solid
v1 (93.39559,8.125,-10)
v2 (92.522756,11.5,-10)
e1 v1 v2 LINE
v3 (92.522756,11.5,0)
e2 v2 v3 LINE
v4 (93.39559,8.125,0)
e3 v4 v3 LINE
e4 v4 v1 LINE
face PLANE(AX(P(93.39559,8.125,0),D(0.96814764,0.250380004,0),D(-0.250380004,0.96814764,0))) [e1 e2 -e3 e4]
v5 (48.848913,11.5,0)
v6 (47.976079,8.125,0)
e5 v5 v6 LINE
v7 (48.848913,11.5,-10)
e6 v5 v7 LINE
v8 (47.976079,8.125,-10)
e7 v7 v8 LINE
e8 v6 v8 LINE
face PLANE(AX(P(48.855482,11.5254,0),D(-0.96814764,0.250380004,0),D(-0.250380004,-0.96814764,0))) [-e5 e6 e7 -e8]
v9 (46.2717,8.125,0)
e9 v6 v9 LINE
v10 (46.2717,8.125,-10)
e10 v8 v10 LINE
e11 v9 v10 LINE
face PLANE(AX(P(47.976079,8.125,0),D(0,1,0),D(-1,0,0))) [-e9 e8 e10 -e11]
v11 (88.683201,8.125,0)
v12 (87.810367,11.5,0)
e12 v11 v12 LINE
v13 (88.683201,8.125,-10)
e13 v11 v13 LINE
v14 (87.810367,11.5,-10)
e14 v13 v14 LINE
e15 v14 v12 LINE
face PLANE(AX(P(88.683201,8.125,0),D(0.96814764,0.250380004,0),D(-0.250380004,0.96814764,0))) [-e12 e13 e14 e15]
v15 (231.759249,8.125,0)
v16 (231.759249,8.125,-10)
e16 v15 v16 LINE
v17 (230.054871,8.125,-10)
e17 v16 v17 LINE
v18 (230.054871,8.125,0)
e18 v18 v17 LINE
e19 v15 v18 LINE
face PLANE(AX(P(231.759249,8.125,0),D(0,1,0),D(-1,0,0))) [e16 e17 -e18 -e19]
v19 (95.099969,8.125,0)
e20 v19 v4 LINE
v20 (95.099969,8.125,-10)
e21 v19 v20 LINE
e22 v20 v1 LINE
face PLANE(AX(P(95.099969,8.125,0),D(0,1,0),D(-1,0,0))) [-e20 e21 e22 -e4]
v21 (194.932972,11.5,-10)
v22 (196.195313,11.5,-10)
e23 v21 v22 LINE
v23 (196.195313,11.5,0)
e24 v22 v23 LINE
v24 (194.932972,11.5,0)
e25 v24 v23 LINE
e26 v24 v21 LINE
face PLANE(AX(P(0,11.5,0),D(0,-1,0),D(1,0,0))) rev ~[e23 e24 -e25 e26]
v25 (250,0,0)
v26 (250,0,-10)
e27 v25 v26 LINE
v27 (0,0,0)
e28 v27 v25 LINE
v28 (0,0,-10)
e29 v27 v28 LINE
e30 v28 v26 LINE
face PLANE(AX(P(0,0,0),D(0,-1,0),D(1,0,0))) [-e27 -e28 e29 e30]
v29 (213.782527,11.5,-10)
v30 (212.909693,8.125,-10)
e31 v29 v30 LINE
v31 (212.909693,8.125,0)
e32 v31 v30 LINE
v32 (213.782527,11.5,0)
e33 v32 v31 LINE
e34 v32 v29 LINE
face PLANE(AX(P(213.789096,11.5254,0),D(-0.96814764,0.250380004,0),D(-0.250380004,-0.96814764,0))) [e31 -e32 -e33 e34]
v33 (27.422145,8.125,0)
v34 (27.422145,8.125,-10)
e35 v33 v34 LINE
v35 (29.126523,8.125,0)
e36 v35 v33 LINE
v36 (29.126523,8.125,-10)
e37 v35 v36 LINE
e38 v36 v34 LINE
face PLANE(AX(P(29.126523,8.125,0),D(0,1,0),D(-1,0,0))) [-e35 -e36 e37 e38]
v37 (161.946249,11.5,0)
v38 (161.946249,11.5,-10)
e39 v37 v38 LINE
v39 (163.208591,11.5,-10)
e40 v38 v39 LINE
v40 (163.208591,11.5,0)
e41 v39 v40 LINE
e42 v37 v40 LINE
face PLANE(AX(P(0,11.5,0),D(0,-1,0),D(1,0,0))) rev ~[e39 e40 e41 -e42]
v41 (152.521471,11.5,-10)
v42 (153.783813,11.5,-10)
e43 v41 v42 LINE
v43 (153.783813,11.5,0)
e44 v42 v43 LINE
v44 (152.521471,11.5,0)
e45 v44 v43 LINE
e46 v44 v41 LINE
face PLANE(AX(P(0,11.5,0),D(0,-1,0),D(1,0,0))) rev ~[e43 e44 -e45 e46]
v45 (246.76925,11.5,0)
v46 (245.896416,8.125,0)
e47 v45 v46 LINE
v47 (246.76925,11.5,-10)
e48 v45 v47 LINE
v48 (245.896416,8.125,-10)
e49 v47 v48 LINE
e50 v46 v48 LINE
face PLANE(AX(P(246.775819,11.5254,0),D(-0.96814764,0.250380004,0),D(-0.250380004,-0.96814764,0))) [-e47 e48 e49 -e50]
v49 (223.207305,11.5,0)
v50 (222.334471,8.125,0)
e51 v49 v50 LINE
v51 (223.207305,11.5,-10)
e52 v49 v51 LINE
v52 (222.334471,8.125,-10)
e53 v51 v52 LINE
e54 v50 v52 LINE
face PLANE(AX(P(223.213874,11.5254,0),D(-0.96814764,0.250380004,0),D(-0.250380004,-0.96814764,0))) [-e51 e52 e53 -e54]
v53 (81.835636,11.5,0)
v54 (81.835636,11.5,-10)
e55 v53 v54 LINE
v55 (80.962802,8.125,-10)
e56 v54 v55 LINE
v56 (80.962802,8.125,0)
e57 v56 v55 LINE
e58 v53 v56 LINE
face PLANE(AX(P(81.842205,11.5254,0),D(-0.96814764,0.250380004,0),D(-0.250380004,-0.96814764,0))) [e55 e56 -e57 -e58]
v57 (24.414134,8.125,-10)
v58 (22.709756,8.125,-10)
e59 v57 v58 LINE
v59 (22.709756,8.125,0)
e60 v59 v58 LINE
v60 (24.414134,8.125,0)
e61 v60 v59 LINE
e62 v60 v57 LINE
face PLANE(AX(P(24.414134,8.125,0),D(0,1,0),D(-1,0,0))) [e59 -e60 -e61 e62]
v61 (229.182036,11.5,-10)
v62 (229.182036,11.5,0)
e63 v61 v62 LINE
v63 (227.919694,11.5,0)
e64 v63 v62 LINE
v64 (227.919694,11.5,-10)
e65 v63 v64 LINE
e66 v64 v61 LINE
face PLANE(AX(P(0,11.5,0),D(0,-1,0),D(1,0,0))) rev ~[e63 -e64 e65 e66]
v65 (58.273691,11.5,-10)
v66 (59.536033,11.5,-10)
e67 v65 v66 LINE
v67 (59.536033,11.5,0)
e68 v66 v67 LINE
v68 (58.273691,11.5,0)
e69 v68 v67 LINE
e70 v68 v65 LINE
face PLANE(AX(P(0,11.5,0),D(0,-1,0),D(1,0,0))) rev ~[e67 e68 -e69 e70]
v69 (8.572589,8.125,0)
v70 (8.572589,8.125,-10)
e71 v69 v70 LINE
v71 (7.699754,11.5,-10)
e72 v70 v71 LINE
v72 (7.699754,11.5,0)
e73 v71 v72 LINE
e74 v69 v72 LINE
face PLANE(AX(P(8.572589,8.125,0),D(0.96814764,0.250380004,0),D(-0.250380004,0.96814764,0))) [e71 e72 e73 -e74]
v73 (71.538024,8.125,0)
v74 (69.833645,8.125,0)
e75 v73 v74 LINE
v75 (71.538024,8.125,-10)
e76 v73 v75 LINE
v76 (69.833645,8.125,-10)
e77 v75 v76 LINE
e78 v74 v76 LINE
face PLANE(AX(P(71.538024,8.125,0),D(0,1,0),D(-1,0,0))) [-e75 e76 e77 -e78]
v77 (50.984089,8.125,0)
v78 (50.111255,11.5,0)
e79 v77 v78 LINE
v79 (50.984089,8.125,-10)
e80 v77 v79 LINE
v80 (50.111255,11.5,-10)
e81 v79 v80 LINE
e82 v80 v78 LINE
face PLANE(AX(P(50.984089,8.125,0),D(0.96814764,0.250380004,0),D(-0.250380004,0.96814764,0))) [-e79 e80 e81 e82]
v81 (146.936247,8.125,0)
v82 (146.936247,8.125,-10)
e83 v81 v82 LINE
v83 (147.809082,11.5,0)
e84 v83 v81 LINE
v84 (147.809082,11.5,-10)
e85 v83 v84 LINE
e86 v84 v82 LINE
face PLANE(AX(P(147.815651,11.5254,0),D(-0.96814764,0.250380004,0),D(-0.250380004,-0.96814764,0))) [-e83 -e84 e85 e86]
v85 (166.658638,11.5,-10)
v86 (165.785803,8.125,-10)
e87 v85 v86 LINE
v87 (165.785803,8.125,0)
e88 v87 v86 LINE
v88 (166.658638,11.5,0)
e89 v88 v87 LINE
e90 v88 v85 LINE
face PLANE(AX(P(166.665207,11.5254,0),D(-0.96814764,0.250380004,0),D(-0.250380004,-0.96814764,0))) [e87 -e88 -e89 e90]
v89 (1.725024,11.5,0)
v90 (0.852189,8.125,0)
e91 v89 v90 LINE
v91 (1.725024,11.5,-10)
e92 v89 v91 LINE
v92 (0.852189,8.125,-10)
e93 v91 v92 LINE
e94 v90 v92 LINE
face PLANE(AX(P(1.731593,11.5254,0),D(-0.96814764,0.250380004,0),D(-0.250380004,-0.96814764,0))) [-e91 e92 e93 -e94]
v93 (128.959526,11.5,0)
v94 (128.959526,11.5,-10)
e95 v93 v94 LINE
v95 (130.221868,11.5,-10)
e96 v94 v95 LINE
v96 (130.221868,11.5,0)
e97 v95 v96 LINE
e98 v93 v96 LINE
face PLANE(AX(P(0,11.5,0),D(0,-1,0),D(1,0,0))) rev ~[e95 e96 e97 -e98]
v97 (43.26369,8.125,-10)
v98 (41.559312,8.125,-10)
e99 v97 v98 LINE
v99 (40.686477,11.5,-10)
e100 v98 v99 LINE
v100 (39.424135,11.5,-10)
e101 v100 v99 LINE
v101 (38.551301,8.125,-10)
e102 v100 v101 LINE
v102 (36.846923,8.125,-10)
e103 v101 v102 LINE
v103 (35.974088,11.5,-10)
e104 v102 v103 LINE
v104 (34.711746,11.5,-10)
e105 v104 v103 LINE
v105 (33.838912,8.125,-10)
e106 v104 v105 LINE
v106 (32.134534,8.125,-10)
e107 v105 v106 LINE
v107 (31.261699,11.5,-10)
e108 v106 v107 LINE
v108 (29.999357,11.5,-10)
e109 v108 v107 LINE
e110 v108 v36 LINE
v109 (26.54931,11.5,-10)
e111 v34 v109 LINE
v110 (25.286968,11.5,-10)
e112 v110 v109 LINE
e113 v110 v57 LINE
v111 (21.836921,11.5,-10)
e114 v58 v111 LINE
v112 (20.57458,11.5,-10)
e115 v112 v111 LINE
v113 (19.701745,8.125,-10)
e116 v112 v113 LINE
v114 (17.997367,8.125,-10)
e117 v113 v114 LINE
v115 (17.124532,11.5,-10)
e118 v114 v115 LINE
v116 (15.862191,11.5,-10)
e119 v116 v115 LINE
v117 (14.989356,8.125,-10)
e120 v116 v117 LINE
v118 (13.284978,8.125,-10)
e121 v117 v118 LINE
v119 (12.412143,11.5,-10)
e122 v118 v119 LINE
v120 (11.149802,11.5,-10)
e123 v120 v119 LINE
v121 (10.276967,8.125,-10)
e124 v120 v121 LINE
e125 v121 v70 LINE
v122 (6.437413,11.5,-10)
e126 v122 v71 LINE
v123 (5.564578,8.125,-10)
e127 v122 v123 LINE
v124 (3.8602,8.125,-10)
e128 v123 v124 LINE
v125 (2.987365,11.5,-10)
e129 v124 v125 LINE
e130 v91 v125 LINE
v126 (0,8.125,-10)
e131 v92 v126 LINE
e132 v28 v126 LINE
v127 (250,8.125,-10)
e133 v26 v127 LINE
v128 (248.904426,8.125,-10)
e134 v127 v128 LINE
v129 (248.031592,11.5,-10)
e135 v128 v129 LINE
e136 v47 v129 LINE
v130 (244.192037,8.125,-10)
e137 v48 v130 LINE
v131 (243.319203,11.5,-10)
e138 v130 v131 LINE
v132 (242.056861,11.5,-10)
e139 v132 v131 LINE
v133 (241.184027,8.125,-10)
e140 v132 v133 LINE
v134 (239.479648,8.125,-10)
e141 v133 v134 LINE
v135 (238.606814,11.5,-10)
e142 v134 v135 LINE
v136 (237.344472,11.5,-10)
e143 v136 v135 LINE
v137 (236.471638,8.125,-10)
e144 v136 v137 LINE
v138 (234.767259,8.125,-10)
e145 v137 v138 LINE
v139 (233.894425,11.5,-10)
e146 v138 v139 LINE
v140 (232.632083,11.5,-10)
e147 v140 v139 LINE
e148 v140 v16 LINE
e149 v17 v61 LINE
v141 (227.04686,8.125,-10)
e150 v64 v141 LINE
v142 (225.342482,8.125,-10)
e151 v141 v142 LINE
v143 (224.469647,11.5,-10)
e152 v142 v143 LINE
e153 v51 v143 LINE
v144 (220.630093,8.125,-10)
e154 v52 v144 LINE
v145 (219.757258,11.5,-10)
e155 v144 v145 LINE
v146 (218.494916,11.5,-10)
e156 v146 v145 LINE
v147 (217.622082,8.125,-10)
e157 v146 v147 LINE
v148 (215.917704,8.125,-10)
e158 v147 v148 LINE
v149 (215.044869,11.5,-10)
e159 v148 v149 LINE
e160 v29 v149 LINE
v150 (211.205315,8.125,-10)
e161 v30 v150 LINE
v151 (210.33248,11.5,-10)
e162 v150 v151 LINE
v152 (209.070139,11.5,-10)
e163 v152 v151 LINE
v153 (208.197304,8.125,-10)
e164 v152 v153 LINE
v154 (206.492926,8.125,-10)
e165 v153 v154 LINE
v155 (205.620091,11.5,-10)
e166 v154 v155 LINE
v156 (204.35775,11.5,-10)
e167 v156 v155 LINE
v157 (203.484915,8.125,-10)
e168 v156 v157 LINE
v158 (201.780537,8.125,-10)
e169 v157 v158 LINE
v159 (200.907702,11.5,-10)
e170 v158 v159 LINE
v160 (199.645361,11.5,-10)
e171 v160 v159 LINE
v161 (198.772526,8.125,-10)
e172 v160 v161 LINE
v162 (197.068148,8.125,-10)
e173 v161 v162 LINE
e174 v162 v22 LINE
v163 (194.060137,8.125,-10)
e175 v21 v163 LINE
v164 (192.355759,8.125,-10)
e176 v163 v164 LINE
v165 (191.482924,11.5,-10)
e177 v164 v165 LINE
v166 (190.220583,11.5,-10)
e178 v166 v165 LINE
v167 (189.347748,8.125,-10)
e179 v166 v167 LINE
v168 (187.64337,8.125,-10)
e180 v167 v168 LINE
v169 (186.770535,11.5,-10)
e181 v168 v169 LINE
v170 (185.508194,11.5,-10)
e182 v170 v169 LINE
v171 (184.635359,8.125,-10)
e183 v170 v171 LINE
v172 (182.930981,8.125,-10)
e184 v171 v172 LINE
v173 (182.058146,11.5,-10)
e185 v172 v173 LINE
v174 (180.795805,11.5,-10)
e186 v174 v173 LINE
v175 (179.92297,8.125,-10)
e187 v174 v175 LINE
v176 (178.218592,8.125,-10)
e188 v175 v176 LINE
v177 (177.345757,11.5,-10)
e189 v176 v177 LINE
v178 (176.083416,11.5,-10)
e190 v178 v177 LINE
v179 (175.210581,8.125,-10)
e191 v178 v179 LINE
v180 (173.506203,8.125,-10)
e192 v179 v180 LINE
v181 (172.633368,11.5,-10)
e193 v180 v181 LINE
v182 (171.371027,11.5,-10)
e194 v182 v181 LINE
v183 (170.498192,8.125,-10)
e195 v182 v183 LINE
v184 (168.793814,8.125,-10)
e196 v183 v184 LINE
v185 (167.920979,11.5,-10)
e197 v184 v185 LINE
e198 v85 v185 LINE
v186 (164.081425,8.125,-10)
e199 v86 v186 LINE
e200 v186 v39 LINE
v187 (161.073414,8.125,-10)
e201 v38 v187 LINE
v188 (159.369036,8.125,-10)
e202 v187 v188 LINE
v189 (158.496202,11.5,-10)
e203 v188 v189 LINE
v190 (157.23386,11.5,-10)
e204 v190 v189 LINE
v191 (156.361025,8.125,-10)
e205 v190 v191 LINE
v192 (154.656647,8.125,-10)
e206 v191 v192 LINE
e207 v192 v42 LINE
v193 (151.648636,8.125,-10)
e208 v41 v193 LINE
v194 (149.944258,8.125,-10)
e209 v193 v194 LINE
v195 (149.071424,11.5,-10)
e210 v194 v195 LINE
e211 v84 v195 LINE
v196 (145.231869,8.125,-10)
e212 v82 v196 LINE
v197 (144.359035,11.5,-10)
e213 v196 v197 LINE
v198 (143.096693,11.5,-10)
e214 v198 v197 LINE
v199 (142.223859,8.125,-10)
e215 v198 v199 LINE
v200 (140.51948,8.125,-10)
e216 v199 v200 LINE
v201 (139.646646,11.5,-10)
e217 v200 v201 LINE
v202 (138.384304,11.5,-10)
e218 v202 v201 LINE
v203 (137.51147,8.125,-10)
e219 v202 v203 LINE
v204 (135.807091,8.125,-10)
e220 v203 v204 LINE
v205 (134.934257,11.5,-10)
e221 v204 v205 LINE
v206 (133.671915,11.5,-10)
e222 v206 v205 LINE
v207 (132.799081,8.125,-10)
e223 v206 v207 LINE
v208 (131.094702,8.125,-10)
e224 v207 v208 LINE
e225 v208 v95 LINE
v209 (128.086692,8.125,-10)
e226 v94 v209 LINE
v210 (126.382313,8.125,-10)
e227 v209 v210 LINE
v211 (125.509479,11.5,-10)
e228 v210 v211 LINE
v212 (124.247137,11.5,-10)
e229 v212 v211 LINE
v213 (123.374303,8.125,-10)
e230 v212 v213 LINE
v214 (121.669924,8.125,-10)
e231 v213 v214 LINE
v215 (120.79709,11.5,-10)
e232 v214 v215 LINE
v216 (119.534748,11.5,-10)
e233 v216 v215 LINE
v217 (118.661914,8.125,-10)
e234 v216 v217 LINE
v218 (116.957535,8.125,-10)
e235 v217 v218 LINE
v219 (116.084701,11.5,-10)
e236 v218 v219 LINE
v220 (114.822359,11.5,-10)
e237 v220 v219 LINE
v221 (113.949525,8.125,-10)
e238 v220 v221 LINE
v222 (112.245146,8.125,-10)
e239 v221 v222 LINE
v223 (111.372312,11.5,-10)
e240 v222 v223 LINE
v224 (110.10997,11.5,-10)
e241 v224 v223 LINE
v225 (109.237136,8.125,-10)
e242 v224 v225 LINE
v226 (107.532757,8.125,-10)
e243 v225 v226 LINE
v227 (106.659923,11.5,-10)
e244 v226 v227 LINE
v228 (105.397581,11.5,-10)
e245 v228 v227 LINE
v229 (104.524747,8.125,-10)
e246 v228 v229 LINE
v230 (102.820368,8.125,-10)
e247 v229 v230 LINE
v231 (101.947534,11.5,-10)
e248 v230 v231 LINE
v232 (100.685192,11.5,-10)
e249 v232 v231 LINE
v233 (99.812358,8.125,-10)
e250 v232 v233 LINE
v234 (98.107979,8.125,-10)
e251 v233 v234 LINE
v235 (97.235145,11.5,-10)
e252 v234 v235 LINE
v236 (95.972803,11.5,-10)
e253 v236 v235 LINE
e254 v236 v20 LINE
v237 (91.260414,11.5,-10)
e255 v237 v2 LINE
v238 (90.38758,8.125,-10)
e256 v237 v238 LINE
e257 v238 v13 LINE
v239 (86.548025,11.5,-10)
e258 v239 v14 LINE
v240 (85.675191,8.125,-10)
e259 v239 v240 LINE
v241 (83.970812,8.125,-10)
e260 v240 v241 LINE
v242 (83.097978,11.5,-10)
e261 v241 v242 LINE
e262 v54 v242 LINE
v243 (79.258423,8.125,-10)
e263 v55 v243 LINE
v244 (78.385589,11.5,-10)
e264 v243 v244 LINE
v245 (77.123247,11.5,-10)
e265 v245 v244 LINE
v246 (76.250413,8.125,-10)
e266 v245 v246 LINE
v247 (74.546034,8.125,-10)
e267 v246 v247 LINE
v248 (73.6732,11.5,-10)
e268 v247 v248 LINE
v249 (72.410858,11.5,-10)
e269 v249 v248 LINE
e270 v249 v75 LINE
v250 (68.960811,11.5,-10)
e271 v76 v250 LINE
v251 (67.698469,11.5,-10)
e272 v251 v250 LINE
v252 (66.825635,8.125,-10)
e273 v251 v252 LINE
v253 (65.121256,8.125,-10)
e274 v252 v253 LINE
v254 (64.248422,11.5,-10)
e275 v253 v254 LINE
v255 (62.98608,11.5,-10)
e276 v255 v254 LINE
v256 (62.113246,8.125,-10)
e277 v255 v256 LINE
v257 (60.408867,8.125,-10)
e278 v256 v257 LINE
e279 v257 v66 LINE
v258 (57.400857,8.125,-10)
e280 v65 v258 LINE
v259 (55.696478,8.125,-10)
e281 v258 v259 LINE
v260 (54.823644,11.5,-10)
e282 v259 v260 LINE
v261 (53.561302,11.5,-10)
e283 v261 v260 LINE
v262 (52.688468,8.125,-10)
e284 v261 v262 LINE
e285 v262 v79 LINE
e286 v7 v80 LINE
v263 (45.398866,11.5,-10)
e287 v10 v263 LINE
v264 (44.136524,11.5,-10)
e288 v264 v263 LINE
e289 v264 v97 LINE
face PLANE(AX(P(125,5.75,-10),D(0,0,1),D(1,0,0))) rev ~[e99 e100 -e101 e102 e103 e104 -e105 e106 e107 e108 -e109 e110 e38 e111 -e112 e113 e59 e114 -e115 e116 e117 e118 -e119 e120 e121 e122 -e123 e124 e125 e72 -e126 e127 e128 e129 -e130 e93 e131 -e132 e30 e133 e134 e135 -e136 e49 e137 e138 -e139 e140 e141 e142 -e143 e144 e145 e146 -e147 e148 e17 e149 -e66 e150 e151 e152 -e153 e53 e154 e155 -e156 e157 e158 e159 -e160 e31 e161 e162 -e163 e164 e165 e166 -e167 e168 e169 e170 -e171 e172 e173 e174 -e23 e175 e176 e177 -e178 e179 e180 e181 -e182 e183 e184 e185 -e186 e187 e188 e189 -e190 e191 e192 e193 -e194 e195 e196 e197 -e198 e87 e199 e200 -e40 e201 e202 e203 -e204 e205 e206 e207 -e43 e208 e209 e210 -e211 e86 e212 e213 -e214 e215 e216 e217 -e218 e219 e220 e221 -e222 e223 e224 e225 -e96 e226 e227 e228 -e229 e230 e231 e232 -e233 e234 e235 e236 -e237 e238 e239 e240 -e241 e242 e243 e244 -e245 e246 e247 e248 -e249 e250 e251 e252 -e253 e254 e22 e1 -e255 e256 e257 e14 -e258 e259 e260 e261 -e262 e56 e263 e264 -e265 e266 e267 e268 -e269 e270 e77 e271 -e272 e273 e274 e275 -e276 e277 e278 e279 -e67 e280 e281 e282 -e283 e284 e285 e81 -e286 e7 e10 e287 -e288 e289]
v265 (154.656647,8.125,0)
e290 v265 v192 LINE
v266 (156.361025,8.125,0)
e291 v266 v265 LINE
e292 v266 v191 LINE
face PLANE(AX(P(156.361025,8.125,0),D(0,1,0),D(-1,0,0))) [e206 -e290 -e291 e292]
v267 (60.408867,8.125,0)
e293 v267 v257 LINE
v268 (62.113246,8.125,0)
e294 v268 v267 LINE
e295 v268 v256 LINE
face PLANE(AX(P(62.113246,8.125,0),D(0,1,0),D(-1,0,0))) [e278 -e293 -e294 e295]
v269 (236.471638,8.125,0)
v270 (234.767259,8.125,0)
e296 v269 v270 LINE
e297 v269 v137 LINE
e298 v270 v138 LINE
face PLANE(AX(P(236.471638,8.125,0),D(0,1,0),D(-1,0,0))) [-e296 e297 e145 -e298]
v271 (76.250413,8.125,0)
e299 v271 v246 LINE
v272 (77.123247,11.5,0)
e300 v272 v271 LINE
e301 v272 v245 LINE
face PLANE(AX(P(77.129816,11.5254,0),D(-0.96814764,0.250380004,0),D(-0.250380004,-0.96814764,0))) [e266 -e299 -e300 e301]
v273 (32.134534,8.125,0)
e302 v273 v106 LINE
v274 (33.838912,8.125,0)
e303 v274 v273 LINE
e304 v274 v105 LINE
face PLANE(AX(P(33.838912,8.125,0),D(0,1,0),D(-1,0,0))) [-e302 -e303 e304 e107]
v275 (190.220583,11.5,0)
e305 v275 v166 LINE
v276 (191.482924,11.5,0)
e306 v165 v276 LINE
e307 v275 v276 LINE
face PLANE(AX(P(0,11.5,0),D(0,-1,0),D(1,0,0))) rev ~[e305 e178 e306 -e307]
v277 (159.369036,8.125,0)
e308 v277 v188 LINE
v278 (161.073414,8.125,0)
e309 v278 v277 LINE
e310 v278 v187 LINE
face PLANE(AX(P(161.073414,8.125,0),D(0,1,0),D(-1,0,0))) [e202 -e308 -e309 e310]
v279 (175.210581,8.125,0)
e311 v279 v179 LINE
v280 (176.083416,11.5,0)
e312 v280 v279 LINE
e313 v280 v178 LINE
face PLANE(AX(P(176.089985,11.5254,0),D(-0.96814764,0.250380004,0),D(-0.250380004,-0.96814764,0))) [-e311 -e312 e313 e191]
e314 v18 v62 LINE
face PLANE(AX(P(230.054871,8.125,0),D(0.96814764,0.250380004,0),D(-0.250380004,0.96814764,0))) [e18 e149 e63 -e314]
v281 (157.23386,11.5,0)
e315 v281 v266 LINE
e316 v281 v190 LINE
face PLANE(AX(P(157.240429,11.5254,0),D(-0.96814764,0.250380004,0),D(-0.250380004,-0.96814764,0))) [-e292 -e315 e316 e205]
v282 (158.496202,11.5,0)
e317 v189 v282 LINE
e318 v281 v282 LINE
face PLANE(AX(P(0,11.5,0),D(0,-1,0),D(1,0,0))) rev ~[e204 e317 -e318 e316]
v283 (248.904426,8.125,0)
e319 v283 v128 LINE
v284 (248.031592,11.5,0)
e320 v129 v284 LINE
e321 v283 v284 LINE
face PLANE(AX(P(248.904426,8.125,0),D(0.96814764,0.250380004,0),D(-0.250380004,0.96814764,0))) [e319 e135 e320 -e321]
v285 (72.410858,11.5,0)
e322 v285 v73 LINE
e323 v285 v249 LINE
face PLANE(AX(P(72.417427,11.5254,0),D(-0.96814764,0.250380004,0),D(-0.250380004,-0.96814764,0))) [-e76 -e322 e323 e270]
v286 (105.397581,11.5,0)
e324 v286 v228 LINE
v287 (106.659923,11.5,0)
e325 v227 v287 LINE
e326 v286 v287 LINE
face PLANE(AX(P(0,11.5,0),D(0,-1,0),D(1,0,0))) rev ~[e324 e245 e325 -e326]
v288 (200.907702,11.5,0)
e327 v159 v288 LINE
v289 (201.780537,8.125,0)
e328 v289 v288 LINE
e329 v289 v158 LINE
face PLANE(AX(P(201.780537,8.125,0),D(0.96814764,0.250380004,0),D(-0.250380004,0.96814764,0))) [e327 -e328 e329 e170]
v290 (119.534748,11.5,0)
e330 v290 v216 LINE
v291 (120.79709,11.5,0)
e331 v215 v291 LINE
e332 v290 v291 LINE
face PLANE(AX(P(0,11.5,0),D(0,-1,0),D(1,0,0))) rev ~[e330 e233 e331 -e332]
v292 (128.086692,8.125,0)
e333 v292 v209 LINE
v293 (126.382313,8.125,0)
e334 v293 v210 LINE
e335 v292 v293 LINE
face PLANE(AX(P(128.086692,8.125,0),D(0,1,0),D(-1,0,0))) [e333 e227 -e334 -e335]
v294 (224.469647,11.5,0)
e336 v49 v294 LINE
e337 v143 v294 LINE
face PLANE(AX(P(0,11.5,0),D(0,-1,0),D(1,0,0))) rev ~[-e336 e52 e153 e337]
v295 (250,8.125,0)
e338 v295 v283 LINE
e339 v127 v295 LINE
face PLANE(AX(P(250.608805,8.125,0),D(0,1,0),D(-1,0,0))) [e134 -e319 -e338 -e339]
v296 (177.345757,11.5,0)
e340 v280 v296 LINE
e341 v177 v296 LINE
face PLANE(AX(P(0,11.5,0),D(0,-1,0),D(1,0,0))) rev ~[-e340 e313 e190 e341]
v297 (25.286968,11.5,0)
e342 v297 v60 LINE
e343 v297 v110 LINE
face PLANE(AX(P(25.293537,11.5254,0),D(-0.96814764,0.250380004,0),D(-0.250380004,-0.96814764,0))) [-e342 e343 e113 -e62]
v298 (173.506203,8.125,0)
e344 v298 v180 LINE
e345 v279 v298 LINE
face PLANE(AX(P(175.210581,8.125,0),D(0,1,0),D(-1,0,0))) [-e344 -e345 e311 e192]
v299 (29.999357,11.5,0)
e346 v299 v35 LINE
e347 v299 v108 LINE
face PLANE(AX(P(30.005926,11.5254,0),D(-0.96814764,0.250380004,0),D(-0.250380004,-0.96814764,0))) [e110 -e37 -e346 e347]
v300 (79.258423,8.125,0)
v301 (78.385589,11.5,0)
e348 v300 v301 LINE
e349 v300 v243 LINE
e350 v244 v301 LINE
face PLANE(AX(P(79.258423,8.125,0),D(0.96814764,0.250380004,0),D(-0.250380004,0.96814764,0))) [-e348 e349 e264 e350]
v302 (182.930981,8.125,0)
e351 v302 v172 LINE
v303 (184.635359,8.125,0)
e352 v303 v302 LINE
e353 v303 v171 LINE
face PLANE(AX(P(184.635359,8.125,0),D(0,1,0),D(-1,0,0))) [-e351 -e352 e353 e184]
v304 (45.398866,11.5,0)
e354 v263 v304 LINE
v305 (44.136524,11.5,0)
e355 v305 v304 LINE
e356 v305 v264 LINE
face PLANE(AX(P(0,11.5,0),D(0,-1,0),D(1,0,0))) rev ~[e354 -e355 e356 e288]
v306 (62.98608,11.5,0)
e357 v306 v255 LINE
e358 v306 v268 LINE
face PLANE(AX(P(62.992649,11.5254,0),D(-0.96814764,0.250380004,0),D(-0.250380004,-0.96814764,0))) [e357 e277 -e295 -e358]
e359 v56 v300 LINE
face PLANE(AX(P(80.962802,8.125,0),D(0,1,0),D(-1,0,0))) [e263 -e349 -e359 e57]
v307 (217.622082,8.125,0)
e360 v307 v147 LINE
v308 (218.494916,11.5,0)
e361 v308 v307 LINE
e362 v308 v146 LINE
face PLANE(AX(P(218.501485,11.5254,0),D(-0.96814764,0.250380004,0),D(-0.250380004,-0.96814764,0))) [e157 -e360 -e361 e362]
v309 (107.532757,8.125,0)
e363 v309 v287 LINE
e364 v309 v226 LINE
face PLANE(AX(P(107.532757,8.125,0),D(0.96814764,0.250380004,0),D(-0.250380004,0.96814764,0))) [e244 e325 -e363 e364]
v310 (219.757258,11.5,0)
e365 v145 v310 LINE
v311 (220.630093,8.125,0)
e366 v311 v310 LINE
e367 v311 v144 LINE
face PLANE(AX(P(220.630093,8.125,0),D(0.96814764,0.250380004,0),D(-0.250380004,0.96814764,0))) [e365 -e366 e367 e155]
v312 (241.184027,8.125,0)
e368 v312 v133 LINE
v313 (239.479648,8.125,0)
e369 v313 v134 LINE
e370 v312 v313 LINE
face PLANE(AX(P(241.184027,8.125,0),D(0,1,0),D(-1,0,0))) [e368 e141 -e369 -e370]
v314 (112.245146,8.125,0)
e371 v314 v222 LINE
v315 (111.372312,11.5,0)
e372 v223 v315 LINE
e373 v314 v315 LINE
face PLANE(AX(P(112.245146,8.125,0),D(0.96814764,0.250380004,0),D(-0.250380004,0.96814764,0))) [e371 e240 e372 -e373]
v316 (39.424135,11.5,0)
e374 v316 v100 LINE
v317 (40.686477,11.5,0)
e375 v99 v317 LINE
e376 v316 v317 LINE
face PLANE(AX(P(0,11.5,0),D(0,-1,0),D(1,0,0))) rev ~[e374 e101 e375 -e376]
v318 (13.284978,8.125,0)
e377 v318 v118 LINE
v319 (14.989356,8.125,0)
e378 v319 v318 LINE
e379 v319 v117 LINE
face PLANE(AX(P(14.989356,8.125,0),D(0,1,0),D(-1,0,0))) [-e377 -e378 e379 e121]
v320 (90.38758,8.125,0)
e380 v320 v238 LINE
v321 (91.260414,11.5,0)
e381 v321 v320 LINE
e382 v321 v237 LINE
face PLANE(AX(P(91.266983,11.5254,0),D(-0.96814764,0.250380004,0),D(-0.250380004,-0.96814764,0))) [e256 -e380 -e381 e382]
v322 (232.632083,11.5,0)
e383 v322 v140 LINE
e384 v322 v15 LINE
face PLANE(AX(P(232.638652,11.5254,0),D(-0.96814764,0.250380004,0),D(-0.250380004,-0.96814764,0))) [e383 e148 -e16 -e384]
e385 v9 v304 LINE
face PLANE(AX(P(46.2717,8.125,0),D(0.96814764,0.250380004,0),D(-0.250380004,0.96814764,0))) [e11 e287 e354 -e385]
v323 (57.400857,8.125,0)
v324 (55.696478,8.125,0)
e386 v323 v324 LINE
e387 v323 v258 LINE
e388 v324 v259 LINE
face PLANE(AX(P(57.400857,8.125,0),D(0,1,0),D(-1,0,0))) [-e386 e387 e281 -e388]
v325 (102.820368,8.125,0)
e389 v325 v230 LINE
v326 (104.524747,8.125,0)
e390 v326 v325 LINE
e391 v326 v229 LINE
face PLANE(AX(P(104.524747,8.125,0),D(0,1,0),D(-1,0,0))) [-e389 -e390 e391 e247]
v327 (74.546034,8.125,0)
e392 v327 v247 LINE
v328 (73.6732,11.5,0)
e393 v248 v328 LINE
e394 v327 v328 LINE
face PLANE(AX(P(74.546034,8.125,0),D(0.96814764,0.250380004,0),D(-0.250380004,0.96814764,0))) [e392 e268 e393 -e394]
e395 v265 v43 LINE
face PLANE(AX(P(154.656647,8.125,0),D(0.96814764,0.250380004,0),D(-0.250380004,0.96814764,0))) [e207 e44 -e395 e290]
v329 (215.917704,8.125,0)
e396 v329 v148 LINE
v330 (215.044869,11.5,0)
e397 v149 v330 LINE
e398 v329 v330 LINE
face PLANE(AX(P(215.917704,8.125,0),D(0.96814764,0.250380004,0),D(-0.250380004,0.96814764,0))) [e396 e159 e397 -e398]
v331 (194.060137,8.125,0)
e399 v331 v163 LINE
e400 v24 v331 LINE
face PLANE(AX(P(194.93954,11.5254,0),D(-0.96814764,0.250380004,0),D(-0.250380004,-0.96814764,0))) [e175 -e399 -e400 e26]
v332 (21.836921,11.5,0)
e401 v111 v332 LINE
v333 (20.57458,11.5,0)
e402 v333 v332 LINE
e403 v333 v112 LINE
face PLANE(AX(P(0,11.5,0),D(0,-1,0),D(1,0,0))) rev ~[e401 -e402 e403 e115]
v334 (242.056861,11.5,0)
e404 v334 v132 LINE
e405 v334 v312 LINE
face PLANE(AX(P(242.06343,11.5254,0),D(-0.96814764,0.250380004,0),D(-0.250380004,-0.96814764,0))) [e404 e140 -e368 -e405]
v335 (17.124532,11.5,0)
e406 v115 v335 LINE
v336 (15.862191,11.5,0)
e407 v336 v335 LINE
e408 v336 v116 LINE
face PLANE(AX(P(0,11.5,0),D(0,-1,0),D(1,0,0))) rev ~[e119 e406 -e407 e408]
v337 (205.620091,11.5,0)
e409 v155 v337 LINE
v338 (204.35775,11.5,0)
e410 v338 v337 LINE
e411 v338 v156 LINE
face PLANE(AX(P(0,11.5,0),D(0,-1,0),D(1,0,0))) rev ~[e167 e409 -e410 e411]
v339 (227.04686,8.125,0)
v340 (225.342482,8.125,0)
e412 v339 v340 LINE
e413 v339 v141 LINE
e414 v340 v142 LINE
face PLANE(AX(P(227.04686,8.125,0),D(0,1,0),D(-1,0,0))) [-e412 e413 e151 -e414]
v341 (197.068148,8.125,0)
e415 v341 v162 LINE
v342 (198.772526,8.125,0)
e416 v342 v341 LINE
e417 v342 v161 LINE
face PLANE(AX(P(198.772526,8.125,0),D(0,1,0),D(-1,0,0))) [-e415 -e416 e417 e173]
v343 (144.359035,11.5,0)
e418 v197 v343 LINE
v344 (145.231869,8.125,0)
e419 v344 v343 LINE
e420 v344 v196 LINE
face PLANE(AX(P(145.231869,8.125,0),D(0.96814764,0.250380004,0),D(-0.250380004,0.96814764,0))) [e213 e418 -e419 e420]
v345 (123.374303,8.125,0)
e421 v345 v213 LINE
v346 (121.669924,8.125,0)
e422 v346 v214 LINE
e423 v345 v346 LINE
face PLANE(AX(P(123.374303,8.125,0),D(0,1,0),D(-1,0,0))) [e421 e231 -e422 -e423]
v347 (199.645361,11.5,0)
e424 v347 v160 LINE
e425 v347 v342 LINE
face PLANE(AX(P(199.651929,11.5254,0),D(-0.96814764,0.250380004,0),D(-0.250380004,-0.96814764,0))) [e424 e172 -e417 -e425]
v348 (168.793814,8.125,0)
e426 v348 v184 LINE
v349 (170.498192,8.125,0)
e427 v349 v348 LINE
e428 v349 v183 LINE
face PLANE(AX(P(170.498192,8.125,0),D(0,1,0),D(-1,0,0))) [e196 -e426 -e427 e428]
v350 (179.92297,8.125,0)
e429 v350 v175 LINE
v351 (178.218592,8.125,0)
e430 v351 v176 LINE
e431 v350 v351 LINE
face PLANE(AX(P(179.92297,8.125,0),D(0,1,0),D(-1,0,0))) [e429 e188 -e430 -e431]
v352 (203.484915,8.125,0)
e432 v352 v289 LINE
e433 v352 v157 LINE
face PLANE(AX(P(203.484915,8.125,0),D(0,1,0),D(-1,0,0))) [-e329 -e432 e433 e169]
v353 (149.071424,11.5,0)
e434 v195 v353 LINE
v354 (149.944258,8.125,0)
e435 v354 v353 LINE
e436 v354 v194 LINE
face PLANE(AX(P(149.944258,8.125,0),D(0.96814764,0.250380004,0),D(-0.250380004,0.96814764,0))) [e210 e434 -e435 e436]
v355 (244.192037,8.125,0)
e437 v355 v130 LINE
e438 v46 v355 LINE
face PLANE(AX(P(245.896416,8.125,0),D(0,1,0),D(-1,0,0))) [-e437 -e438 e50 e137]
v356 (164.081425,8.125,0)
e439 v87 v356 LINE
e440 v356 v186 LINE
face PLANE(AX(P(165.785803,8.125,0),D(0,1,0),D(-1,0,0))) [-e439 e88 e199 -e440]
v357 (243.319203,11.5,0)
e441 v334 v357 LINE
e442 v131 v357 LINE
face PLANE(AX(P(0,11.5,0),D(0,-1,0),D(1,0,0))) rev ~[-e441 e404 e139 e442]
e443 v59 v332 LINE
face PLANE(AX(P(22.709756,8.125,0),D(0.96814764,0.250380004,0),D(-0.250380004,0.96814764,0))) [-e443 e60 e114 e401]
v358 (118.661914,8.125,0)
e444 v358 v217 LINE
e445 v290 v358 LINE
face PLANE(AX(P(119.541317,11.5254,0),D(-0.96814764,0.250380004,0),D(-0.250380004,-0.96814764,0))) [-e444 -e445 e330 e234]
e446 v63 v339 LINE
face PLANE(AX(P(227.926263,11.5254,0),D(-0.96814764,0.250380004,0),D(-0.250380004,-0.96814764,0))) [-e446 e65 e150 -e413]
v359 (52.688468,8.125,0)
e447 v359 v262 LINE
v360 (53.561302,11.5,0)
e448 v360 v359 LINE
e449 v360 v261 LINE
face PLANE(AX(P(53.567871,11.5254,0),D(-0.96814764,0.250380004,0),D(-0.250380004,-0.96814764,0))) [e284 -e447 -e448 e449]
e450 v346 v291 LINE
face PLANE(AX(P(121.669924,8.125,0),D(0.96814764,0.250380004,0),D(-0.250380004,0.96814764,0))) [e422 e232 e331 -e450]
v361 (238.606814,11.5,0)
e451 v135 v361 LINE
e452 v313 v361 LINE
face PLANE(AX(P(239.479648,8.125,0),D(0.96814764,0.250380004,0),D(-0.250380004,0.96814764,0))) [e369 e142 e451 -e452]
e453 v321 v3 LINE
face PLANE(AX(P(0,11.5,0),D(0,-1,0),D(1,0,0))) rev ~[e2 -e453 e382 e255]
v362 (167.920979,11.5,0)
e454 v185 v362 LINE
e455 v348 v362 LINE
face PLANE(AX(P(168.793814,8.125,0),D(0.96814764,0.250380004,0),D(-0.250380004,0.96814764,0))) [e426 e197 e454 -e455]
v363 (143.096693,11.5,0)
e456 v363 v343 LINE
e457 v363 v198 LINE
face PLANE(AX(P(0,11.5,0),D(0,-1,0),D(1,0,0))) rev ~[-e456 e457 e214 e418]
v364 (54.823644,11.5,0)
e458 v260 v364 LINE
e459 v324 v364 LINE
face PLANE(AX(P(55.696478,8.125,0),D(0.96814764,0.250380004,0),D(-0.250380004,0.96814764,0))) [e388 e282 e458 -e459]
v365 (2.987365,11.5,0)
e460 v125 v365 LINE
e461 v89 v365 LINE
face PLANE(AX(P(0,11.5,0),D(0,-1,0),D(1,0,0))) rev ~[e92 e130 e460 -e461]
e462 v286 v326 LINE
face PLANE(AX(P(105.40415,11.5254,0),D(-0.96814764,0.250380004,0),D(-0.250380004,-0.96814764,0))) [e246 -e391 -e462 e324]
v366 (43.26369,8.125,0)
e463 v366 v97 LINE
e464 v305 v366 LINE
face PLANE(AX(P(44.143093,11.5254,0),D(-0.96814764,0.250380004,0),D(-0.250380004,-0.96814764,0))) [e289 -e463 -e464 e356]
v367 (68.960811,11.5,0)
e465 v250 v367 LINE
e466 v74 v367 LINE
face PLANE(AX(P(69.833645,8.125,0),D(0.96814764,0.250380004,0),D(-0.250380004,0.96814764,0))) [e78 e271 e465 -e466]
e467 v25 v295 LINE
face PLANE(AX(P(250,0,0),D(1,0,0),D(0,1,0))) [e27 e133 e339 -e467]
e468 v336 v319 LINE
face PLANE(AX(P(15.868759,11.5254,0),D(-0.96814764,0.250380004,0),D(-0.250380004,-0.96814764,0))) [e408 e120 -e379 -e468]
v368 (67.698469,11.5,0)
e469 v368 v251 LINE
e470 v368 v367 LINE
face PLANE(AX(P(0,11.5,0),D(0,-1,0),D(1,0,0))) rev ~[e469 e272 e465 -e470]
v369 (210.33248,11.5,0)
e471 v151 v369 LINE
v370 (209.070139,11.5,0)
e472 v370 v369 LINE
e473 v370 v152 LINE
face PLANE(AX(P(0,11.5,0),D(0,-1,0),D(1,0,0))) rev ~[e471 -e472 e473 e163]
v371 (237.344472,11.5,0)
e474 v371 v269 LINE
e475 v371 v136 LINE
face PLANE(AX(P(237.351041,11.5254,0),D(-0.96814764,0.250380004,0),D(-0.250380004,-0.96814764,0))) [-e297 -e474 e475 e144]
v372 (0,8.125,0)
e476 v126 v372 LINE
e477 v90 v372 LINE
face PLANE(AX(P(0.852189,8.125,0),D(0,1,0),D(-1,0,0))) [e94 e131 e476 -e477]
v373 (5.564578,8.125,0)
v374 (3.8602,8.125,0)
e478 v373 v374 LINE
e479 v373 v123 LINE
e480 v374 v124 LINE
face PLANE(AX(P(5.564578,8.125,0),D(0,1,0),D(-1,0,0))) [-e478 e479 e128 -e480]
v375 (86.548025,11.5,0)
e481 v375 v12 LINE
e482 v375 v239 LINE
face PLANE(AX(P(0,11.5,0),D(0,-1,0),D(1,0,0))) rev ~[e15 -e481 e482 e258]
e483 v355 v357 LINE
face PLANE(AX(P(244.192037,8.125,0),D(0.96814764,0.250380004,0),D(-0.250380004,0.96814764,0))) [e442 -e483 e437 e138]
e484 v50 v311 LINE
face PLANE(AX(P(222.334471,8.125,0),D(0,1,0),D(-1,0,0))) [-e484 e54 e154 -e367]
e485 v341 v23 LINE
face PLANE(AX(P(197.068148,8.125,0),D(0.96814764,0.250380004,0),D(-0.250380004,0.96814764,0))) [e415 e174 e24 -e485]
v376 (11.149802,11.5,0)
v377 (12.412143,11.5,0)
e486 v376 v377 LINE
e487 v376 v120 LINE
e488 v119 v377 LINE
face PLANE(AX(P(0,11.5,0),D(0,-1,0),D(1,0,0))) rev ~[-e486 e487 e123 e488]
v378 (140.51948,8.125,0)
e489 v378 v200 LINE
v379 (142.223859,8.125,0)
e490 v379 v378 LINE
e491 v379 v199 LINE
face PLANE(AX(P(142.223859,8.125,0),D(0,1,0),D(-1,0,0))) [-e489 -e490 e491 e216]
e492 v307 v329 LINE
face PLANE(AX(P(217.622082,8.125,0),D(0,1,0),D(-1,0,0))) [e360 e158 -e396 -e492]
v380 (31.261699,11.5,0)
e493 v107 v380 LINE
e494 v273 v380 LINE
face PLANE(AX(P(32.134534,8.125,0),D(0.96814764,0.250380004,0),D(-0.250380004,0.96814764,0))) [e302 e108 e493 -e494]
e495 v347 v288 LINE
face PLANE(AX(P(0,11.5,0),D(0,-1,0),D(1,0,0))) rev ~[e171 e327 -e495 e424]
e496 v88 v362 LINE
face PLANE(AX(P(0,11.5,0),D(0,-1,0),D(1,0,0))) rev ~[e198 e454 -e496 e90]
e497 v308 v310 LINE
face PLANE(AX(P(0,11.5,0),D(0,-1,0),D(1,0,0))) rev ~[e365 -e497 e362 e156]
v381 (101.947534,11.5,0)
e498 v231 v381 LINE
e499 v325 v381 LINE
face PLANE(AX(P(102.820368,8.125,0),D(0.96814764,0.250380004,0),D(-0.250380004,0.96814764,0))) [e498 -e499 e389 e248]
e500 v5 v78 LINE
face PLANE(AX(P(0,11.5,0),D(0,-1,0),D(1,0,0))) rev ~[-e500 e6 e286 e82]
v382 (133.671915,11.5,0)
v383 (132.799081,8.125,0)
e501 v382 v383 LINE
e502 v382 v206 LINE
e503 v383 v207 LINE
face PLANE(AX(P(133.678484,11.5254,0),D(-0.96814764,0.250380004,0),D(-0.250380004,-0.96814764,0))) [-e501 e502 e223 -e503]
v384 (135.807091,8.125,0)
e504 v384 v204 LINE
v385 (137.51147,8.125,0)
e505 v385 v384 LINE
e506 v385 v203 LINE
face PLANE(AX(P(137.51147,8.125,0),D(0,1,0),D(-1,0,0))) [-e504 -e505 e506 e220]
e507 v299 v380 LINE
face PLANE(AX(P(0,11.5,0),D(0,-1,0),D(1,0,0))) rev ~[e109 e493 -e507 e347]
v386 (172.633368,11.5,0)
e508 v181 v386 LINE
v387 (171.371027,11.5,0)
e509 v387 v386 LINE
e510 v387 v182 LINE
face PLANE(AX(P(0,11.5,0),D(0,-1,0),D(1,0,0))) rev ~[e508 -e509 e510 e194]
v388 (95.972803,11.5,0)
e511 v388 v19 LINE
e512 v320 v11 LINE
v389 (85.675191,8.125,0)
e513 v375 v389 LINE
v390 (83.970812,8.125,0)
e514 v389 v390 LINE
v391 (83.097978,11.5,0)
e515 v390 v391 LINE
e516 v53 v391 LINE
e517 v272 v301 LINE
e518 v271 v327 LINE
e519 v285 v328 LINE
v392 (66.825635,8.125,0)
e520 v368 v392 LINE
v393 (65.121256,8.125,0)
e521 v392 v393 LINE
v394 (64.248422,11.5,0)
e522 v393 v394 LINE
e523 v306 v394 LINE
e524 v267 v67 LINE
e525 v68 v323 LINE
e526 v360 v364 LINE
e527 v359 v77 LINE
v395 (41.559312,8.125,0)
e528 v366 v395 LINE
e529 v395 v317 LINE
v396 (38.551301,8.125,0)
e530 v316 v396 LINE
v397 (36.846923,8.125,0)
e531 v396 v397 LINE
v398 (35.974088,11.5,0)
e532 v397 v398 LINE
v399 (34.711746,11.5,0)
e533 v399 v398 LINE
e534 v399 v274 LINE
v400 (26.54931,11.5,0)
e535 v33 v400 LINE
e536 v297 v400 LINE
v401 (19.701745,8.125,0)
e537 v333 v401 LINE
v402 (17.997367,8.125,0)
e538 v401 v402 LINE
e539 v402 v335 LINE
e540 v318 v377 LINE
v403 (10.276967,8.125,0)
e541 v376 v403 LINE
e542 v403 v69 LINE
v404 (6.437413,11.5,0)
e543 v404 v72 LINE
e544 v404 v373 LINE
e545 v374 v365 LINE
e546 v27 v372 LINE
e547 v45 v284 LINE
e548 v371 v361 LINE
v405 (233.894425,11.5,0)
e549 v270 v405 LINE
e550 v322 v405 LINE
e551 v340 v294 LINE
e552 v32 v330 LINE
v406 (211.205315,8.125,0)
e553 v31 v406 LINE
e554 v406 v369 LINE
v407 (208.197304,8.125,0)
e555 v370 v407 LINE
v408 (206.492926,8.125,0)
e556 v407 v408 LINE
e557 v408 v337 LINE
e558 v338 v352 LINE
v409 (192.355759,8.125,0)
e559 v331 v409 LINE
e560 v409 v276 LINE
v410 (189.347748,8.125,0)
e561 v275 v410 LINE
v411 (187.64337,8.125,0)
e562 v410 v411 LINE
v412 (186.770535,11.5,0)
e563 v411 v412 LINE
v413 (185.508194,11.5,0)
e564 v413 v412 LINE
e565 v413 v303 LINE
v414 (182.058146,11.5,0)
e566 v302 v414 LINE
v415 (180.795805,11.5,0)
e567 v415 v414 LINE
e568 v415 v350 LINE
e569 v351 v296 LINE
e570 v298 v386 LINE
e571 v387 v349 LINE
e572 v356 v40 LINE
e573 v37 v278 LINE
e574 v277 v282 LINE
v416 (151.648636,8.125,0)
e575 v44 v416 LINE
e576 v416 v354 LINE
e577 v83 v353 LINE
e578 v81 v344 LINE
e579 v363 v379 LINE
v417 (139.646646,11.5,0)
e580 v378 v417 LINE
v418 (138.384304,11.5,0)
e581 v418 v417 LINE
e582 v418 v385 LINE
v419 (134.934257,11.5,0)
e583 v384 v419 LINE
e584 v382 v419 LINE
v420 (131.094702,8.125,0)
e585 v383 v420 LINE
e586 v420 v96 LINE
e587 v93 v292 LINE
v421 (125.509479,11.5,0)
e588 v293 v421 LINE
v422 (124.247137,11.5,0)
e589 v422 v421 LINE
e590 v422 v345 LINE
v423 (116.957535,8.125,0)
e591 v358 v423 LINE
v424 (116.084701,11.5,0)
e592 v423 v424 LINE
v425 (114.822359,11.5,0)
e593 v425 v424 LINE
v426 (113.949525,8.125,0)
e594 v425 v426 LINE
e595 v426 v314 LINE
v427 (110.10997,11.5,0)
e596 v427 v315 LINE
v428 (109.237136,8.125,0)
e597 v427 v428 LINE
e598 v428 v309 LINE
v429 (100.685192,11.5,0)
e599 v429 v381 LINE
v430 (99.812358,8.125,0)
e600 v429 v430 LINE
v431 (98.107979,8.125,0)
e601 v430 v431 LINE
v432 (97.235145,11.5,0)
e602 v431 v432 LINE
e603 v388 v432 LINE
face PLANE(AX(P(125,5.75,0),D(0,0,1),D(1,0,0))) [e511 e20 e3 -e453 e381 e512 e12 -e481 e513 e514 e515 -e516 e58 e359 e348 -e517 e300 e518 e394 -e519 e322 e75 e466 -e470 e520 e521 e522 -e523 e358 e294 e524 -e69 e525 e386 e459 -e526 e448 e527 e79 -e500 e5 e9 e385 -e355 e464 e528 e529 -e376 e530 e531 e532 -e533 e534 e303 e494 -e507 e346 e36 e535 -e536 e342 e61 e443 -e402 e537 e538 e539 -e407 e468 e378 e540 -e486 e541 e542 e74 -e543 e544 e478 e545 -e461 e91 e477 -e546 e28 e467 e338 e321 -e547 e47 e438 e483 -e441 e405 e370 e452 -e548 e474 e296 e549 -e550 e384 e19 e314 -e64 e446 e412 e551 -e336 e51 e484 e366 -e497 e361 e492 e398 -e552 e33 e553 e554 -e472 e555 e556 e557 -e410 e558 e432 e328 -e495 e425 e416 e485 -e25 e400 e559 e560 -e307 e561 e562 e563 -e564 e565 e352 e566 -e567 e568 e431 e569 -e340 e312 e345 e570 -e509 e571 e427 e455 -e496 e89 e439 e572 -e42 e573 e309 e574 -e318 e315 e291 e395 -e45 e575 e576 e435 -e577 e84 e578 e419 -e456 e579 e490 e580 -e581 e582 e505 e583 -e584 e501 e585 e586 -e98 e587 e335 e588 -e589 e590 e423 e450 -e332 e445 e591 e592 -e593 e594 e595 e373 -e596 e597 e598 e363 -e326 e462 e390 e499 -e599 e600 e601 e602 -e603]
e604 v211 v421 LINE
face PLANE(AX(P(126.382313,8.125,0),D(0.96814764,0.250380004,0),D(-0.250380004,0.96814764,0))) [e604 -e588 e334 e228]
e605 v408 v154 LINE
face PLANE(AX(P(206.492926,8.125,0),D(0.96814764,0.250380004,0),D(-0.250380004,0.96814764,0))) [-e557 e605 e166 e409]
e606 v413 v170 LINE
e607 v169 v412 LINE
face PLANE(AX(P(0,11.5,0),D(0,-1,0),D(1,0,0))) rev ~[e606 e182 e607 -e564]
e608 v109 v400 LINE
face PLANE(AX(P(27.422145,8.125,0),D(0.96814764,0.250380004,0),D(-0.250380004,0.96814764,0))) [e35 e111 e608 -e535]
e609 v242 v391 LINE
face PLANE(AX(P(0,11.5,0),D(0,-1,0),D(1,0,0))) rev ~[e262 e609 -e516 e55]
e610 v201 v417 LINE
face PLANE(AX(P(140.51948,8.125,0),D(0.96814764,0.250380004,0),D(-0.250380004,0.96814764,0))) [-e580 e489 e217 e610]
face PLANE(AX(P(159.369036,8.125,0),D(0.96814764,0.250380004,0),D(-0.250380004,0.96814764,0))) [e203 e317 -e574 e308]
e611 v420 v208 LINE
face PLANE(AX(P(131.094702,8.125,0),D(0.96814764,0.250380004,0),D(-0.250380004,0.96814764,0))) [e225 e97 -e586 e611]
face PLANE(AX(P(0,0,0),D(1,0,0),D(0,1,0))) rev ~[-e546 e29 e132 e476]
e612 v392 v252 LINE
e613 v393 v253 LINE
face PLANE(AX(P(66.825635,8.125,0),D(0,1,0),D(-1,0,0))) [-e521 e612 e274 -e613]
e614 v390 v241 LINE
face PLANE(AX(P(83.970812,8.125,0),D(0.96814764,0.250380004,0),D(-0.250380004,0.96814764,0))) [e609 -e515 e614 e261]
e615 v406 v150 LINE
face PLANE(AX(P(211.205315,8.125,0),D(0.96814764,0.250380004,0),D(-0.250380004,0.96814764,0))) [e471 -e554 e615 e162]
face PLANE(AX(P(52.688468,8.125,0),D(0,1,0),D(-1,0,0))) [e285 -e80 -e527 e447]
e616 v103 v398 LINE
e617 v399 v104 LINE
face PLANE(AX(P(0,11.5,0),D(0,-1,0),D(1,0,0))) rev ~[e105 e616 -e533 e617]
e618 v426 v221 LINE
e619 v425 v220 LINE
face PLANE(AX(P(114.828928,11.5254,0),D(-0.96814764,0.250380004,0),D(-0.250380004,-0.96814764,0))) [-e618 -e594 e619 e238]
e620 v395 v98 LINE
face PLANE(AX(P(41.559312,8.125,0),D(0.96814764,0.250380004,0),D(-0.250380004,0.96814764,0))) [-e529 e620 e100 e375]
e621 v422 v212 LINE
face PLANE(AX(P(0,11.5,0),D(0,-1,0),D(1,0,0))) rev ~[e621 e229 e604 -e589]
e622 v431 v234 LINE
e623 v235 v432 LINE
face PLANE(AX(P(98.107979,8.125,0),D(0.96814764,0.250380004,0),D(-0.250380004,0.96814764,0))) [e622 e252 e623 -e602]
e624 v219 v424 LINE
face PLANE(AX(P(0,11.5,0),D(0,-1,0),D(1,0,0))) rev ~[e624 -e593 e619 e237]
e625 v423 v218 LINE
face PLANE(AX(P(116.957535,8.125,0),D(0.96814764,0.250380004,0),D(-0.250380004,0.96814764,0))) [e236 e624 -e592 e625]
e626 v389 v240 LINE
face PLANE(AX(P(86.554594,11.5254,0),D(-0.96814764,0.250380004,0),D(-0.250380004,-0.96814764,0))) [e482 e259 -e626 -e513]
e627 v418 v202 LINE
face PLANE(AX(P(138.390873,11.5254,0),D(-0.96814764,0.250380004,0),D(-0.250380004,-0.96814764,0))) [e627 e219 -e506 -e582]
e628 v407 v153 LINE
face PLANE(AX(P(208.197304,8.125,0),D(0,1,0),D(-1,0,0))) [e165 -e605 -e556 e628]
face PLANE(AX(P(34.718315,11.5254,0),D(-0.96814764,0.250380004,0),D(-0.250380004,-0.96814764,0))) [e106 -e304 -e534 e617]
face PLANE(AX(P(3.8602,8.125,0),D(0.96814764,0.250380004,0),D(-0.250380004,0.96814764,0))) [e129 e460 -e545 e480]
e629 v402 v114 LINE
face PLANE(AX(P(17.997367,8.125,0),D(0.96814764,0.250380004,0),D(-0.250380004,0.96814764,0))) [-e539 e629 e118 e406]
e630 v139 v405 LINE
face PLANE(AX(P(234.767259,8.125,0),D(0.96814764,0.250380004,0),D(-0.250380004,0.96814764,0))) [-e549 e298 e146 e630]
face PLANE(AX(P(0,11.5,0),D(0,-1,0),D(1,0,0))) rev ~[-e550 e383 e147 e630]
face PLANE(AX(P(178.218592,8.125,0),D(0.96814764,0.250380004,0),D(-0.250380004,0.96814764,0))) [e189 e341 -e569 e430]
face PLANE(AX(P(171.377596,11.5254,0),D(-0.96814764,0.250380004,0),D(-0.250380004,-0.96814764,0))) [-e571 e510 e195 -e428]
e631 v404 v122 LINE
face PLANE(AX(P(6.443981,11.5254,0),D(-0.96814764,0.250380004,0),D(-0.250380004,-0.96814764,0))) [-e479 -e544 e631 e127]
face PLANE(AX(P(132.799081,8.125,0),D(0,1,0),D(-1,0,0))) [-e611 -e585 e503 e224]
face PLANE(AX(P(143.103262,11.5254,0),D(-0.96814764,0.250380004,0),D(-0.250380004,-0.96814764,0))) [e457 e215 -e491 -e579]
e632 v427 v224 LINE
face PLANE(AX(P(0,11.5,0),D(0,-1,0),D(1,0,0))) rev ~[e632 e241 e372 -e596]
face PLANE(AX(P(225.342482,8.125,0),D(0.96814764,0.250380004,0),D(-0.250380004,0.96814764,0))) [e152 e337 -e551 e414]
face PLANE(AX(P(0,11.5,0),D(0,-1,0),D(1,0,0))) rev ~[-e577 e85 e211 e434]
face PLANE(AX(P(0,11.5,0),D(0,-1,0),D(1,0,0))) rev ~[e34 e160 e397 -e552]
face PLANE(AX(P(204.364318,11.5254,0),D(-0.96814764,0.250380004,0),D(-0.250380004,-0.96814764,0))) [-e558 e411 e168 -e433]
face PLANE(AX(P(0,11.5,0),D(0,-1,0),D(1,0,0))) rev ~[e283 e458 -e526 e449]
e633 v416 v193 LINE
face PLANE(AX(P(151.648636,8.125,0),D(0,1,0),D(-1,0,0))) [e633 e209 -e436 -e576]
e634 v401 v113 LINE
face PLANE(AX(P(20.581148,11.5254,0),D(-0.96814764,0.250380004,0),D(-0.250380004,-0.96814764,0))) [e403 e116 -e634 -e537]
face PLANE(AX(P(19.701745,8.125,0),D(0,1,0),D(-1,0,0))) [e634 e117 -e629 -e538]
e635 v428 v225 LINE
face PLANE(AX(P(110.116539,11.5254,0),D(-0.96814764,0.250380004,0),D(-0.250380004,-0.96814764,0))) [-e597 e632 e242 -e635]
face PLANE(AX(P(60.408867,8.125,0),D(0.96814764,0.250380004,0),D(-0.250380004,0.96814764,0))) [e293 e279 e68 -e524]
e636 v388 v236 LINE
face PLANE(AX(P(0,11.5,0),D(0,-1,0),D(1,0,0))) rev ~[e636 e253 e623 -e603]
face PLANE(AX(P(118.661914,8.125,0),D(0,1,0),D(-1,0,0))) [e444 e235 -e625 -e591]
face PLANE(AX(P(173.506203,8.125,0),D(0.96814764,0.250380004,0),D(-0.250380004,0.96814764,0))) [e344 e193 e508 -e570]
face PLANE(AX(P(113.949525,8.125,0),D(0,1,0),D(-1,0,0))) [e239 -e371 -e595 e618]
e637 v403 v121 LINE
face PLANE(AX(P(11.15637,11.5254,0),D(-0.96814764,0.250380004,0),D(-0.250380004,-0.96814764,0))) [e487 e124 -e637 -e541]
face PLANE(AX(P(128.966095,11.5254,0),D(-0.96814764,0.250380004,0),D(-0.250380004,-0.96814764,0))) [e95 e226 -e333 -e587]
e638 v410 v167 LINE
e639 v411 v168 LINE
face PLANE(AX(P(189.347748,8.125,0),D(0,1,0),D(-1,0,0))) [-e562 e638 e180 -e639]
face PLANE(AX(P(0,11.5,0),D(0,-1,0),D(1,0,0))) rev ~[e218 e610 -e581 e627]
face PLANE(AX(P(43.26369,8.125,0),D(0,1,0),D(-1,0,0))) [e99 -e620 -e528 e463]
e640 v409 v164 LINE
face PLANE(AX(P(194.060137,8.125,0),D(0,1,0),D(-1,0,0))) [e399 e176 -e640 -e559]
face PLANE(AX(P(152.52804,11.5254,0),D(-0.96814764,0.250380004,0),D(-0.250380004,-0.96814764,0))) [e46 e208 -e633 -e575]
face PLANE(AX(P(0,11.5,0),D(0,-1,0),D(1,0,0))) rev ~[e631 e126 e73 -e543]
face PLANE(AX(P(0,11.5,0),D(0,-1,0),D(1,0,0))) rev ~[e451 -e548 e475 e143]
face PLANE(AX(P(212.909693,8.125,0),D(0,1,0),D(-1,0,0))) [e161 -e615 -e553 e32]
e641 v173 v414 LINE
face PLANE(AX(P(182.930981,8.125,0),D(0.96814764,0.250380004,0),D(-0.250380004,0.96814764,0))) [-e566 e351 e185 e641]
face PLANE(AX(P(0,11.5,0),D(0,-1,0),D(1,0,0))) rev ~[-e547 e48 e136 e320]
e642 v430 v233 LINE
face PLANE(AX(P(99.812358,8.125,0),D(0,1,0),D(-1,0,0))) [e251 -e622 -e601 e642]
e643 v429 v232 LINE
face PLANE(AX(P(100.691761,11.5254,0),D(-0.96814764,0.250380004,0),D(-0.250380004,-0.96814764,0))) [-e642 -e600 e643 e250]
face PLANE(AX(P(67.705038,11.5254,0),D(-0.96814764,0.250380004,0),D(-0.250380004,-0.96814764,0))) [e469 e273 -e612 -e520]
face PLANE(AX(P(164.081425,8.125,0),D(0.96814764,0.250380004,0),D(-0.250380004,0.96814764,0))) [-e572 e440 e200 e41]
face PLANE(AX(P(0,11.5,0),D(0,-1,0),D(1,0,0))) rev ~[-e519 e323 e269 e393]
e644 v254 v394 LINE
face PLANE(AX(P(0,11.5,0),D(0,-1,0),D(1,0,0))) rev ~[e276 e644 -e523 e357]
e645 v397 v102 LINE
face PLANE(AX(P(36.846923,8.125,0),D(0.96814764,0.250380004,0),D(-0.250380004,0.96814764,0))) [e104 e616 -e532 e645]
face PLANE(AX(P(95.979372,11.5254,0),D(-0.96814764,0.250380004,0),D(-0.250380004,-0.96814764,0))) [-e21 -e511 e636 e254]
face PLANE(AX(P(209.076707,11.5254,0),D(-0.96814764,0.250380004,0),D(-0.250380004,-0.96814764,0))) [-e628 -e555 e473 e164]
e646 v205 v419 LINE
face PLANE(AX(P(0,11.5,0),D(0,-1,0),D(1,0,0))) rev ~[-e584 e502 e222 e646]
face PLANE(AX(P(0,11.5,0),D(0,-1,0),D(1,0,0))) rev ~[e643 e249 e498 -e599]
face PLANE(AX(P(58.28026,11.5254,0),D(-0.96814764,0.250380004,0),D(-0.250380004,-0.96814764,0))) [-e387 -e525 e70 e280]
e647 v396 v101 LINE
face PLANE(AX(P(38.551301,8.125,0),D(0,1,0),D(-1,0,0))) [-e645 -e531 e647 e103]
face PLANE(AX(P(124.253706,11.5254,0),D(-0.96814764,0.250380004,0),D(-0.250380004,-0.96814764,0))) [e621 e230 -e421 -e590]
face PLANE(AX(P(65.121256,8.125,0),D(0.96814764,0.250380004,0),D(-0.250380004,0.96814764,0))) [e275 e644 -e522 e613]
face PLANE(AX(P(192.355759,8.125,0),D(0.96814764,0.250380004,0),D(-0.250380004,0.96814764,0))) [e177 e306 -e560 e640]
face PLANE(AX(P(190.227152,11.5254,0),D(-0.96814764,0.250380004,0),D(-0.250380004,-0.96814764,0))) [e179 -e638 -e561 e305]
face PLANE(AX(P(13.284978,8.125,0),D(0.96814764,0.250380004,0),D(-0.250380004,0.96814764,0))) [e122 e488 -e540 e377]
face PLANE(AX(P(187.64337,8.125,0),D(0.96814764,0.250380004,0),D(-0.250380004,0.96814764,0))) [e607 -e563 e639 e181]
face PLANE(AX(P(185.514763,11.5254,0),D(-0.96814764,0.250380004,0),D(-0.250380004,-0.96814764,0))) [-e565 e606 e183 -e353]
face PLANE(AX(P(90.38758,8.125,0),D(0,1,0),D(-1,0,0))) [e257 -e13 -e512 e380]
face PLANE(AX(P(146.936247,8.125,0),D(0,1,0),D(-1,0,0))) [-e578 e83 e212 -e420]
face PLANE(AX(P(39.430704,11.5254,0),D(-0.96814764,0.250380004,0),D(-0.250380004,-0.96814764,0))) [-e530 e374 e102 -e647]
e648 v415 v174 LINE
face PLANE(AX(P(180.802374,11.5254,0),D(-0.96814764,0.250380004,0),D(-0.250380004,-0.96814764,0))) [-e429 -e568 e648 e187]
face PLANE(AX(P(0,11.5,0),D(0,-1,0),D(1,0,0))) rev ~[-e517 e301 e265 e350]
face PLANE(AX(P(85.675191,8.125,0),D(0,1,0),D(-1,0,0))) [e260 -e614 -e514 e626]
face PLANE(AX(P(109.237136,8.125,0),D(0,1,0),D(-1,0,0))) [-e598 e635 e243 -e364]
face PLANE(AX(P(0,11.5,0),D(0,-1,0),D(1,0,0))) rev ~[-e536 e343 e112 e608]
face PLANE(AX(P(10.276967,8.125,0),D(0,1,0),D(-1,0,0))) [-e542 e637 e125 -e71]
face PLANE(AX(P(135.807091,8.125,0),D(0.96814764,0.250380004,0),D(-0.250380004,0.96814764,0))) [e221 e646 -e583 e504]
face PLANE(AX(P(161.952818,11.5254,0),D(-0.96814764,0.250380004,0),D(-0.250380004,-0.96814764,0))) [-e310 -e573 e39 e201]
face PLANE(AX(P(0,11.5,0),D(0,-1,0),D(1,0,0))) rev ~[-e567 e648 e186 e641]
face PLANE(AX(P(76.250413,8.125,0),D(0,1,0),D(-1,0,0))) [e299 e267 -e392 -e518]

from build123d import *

# Parameters (mm, degrees)
BLANKSKE_W        = 250
BLANKSKE_H        = 11.5
BLANK_DEPTH       = 10
TOOTHCUTSIM_DEPTH = 251.464069279
TEETHCUTS_COUNT   = 54
TEETHCUTS_PITCH   = 4.712388975


with BuildPart() as part:
    # BlankSke → Blank (new body)
    with BuildSketch(Plane.XY):
        with Locations((125, 5.75)):
            Rectangle(BLANKSKE_W, BLANKSKE_H)
    extrude(amount=-BLANK_DEPTH)

    # TooCutSkeSim → ToothCutSim (cut, through all)
    with BuildSketch(Plane.XY):
        Polygon((0.852189273, 8.125), (-0.852189273, 8.125), (-1.731592507, 11.5254), (1.731592507, 11.5254), align=None)
    toothcutsim = extrude(amount=-TOOTHCUTSIM_DEPTH, mode=Mode.SUBTRACT)

    # TeethCuts: ToothCutSim ×54
    with Locations(*[(i * TEETHCUTS_PITCH, 0, 0) for i in range(1, TEETHCUTS_COUNT)]):
        add(toothcutsim, mode=Mode.SUBTRACT)


solid = part.part
